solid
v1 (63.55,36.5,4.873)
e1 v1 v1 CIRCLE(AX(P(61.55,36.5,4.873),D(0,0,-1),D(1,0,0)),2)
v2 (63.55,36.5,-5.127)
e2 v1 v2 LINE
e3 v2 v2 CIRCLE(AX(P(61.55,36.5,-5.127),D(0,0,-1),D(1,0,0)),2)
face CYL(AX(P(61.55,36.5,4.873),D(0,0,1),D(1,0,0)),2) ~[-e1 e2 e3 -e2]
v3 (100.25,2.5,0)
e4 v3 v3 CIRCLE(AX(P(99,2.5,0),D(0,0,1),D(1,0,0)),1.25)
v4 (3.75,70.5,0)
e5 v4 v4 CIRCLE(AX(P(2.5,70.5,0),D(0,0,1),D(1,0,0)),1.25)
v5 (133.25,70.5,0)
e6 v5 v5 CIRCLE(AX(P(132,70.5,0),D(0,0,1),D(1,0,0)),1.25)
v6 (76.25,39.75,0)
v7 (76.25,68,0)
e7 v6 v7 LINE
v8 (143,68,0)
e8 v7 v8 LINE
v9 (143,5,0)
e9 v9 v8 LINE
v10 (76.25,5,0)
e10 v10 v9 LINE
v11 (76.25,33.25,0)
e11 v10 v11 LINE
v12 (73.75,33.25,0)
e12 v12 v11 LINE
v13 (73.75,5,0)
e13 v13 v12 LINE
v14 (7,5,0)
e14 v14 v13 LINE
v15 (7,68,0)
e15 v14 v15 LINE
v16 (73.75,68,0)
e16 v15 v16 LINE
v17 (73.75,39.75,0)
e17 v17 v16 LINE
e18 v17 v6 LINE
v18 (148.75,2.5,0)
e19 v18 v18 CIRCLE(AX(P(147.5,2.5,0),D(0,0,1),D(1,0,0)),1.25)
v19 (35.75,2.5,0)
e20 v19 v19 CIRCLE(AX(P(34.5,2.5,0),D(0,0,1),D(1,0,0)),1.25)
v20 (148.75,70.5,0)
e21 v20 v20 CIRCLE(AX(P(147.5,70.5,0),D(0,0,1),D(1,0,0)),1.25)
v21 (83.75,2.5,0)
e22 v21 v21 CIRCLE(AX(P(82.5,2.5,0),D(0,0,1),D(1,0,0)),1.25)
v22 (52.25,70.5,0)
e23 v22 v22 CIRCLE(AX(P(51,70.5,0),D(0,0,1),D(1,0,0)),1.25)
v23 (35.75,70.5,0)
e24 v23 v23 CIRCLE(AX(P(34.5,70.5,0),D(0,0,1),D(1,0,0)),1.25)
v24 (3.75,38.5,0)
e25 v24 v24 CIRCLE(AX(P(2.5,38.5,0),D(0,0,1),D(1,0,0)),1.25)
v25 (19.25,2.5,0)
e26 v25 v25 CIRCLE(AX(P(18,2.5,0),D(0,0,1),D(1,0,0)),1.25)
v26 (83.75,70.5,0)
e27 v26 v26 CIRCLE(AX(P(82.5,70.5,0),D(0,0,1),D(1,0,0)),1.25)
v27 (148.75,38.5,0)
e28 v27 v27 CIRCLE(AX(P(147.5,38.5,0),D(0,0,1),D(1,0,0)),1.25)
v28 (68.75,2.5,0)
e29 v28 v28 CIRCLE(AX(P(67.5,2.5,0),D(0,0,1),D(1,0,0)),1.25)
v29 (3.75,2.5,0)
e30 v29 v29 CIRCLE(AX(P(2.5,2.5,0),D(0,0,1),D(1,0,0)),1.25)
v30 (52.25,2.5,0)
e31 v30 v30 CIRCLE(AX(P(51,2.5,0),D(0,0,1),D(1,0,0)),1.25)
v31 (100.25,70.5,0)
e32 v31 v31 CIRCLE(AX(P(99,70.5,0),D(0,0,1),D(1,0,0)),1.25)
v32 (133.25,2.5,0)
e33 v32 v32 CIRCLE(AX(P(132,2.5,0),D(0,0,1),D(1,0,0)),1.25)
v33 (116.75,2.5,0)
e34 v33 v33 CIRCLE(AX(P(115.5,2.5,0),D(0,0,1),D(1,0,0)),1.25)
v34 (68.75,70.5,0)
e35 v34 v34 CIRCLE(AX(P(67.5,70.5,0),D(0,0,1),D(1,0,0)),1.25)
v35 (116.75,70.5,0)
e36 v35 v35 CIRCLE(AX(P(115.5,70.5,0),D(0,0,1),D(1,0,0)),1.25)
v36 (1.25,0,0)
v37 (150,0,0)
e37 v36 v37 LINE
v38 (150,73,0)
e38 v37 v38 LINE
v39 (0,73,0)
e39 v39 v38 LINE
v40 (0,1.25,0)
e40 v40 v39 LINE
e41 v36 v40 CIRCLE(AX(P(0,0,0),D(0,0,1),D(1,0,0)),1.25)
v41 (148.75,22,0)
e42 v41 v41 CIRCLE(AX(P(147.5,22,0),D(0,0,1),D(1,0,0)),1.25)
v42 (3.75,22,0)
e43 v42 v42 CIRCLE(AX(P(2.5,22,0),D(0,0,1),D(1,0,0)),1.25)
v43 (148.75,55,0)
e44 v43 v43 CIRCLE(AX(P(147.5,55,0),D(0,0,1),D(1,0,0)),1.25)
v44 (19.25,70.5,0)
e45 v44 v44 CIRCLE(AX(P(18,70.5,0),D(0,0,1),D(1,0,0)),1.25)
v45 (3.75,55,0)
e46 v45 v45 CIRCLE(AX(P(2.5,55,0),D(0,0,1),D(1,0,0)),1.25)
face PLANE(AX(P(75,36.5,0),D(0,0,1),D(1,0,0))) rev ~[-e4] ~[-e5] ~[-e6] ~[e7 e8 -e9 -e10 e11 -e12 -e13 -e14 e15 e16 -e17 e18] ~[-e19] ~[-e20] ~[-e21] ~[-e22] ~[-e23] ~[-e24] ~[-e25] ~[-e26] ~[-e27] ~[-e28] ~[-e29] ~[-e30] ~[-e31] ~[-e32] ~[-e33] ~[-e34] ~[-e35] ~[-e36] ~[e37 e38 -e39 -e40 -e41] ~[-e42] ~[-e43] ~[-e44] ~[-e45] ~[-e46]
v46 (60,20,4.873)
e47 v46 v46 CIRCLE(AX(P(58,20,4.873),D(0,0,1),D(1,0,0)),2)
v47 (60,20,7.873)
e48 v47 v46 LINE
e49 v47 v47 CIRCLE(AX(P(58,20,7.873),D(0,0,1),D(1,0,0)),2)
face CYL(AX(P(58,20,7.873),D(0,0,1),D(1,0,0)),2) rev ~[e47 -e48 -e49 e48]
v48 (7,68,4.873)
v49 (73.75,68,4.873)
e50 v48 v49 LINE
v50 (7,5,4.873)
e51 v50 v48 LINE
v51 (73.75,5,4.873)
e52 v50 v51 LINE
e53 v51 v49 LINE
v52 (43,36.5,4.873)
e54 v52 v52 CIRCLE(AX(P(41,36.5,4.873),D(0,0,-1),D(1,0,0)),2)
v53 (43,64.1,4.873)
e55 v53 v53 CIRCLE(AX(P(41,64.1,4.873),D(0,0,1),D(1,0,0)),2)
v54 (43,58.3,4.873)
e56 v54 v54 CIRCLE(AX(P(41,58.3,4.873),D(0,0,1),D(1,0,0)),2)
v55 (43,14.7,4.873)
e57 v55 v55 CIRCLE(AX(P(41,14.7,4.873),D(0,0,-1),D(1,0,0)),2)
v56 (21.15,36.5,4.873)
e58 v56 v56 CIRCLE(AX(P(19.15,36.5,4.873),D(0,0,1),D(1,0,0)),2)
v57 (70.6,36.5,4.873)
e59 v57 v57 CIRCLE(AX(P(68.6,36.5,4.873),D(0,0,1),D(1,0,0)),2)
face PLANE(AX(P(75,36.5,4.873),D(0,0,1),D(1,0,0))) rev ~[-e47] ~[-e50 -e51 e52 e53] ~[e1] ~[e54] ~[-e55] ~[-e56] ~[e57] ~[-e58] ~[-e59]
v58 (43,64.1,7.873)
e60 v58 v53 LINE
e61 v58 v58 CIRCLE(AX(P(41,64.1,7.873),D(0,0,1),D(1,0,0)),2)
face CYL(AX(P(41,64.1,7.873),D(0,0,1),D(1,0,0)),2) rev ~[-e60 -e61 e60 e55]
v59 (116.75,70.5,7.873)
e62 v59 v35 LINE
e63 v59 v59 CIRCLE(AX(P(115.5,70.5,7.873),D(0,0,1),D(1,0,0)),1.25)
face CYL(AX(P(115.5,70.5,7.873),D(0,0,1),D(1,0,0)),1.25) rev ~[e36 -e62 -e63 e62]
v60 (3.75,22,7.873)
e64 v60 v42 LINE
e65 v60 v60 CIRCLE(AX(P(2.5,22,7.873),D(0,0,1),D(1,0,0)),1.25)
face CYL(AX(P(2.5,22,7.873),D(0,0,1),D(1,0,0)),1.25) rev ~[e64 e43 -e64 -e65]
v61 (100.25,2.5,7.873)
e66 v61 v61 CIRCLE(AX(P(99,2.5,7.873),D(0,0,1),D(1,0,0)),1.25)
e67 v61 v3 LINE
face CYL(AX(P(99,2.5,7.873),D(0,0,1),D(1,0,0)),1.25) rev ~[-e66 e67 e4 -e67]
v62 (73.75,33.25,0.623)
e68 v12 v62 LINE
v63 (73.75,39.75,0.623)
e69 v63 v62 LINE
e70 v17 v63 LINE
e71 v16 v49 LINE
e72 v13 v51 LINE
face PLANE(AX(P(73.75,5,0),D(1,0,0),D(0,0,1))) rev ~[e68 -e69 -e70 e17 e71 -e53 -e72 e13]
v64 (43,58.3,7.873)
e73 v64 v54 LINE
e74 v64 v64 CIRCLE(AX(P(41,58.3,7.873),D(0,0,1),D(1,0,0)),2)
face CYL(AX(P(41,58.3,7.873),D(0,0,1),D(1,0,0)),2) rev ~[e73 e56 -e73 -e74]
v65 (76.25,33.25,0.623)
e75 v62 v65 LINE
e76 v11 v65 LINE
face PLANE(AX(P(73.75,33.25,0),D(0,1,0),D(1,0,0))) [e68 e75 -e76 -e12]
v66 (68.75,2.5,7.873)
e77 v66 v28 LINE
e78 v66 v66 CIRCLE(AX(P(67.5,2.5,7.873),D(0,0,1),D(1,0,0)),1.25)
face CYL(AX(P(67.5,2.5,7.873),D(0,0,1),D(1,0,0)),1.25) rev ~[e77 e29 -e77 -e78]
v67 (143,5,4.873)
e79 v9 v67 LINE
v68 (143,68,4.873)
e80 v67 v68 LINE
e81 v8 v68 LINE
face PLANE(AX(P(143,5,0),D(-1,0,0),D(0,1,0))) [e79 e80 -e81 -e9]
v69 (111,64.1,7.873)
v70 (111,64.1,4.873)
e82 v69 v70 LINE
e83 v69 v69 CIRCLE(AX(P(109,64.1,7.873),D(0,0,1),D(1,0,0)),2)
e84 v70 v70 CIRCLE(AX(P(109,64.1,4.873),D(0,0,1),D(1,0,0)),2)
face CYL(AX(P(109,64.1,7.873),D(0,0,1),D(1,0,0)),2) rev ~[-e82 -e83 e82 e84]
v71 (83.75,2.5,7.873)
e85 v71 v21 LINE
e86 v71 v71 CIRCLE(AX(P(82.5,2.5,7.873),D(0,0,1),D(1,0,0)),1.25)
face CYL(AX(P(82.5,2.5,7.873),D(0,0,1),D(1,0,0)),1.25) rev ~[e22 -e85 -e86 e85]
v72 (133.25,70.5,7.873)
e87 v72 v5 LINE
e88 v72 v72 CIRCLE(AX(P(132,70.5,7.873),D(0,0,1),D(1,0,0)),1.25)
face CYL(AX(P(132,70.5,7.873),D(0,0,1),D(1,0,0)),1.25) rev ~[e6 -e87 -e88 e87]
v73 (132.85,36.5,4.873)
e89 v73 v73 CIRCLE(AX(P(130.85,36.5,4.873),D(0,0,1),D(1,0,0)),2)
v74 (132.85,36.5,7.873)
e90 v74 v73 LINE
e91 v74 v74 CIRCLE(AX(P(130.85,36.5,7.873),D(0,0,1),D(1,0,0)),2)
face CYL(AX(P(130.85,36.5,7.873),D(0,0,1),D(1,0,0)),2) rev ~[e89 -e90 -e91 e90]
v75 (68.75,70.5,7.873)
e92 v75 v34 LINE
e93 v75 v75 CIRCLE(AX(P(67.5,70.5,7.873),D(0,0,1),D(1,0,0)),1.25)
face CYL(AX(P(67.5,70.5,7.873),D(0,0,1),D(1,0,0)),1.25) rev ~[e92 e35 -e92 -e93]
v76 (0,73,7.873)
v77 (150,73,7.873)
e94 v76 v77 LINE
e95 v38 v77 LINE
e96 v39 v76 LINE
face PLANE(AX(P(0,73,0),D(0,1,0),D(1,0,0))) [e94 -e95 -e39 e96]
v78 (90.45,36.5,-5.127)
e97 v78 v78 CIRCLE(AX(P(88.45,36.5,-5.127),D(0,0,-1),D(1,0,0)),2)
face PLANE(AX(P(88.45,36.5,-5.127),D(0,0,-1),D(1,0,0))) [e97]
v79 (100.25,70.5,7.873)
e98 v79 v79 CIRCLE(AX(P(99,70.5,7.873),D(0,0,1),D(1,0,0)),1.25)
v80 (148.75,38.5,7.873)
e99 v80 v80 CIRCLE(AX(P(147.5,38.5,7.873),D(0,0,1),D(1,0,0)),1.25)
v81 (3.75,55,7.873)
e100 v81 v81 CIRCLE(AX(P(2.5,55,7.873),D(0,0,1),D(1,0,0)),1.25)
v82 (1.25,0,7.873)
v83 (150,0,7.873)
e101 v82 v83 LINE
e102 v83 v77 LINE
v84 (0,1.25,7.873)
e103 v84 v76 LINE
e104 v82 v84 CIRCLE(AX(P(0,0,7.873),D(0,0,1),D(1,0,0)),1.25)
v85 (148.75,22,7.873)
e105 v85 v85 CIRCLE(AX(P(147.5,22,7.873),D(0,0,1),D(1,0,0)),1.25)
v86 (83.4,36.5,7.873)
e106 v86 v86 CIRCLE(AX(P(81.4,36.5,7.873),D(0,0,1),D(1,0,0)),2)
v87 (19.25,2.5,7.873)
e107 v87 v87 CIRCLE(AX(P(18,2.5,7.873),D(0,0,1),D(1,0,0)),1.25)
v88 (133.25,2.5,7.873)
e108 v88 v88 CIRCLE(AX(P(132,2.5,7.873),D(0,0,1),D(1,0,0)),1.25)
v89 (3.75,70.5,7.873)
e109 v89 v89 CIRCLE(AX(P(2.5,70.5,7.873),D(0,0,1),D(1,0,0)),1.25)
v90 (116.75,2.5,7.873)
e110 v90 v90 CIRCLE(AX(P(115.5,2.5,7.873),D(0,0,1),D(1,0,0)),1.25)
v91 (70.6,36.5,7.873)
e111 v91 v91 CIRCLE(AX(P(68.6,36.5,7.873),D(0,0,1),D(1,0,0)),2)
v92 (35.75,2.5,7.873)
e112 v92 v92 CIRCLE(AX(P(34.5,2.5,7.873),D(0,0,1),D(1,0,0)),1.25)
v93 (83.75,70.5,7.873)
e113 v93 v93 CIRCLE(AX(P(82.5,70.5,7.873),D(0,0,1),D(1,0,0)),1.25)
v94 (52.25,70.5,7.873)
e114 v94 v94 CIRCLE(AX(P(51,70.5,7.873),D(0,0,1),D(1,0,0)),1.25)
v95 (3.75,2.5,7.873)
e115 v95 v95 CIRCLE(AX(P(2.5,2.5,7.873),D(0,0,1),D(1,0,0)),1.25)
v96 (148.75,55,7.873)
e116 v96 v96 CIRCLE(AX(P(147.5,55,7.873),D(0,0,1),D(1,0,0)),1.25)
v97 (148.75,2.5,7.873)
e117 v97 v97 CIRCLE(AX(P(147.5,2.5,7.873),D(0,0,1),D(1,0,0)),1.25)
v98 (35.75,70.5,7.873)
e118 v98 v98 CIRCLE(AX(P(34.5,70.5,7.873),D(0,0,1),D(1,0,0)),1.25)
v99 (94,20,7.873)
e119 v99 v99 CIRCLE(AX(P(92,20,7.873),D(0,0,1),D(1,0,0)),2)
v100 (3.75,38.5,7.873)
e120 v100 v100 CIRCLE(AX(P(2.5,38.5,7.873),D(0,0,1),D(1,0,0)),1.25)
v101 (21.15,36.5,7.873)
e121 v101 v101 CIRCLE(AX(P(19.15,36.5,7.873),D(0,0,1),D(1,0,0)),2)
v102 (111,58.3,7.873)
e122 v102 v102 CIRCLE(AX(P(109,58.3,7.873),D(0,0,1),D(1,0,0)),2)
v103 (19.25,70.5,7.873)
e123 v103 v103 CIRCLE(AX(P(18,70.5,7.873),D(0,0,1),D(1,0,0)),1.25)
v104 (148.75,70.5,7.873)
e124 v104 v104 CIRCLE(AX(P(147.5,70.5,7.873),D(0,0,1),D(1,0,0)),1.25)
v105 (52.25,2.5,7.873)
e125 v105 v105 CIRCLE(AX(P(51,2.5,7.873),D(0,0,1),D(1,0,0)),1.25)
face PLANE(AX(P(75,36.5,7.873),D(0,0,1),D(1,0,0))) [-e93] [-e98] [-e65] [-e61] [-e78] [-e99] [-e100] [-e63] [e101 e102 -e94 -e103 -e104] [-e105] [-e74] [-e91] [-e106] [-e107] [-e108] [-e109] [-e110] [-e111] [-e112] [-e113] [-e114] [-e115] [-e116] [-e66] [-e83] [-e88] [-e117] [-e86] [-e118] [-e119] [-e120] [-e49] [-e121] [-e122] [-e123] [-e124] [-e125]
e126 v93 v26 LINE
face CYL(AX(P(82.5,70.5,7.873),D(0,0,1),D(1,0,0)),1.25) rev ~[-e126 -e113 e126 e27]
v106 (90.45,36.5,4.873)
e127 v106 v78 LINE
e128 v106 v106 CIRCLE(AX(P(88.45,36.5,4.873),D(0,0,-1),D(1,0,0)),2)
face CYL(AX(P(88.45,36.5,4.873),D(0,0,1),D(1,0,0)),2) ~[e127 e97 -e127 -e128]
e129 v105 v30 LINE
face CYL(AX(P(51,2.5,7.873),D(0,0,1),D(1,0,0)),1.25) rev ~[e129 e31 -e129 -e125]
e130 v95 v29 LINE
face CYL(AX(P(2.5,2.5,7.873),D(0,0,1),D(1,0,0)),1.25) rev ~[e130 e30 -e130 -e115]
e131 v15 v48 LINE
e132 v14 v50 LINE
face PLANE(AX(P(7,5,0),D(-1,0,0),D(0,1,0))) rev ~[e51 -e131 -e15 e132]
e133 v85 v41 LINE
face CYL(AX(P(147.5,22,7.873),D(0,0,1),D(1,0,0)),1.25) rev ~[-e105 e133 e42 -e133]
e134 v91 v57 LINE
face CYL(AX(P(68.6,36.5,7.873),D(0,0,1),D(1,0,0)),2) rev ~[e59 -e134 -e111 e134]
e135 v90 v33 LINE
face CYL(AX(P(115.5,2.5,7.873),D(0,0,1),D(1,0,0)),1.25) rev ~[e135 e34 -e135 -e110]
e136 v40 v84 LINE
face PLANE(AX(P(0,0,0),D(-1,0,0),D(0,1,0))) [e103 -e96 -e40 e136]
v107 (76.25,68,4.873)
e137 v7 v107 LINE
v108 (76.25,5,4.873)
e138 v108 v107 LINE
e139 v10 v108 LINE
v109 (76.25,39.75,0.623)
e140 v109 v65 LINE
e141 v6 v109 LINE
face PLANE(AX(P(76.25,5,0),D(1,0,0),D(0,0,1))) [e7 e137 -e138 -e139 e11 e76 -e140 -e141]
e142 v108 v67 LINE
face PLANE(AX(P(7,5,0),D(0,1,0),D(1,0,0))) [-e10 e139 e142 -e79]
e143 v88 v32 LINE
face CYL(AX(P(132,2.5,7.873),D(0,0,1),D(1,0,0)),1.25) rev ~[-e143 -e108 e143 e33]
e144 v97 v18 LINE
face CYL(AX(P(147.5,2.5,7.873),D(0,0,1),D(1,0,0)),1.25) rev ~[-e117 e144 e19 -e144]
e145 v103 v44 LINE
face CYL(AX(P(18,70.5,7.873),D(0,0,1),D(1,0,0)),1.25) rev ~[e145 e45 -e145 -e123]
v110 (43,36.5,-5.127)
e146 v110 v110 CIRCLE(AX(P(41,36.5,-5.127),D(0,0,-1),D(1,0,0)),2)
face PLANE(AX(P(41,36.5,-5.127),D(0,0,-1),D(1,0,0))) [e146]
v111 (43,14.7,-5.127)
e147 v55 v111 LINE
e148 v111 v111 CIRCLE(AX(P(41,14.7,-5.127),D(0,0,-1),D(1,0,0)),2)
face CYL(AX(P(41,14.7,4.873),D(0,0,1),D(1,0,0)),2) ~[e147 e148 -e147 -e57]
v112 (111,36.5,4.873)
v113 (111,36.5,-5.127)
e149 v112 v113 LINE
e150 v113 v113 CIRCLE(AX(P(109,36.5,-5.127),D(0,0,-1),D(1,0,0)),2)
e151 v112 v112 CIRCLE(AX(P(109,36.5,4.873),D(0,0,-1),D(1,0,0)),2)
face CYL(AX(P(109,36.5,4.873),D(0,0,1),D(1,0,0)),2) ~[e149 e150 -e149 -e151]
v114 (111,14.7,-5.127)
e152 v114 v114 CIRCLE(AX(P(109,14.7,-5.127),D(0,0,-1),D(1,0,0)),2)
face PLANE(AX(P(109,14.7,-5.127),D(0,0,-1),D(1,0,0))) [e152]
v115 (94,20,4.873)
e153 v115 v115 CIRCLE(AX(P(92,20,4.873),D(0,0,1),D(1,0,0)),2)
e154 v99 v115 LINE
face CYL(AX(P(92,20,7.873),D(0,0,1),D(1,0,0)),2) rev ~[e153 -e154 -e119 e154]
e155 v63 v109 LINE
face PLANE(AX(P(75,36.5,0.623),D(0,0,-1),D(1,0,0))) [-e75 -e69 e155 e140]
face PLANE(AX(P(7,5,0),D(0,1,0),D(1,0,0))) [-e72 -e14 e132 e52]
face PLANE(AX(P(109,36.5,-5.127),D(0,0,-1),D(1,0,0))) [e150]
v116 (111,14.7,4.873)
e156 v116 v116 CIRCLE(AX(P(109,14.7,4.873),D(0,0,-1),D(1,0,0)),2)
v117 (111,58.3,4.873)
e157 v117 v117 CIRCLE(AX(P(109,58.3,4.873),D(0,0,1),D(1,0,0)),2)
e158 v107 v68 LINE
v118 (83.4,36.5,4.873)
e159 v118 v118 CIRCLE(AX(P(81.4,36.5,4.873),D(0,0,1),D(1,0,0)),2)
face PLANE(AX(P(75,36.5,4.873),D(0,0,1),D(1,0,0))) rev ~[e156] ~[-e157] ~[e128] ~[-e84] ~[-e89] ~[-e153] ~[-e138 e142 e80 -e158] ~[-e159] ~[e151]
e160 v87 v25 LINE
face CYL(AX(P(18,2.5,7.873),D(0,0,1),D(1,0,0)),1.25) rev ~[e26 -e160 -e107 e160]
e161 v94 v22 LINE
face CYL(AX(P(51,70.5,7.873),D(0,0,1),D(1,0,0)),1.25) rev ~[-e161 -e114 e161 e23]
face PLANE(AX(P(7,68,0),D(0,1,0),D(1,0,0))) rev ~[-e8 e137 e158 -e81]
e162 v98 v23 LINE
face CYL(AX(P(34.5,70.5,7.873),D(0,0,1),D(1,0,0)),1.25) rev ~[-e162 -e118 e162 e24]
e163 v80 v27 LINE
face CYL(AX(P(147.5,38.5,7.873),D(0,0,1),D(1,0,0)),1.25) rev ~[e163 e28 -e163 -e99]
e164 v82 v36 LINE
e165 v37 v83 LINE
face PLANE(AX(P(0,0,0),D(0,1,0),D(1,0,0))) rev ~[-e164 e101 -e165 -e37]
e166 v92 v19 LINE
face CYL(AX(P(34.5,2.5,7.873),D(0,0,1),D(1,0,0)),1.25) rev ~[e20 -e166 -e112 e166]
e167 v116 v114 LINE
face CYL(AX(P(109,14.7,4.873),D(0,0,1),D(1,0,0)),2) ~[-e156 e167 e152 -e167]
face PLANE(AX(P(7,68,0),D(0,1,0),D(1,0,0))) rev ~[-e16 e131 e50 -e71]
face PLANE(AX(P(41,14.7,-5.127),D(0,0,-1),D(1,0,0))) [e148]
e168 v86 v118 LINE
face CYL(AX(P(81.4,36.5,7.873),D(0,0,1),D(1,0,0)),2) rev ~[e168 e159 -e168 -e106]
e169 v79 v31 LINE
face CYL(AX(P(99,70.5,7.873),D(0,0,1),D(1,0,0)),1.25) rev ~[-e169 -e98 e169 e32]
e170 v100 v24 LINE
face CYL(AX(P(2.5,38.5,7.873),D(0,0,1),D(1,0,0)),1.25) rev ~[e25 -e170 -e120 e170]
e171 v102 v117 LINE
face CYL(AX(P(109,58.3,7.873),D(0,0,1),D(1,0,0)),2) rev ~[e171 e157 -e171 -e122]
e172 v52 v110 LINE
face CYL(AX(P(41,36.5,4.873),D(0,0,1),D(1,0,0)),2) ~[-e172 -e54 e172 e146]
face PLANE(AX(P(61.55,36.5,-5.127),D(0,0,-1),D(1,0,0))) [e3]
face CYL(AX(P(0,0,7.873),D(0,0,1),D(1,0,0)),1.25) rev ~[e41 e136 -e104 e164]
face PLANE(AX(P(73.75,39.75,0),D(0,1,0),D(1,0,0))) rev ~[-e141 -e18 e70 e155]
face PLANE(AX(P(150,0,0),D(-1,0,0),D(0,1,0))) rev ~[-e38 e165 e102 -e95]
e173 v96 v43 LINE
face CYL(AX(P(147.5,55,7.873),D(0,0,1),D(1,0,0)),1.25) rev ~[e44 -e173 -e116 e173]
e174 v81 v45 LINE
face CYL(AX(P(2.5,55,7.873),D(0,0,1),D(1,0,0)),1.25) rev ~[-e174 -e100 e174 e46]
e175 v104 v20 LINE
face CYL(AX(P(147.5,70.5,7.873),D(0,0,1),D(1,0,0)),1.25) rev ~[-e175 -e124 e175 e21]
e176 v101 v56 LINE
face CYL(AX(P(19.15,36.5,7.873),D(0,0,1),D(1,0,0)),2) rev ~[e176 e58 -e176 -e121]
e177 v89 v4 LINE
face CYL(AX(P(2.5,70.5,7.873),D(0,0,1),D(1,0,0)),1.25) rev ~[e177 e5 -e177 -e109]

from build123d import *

# Parameters (mm, degrees)
F0_W      = 150
F0_H      = 73
F1_DEPTH  = 7.873
F2_W      = 136
F2_H      = 63
F3_DEPTH  = 4.873
F4_R      = 1.25
F5_DEPTH  = 7.873
F6_R      = 1.25
F7_DEPTH  = 7.873
F8_R      = 1.25
F9_DEPTH  = 7.873
F10_R     = 1.25
F11_DEPTH = 7.873
F12_R     = 1.25
F13_DEPTH = 7.873
F14_R     = 1.25
F15_DEPTH = 7.873
F16_R     = 1.25
F17_DEPTH = 7.873
F18_R     = 1.25
F19_DEPTH = 7.873
F20_R     = 1.25
F21_DEPTH = 7.873
F22_R     = 1.25
F23_DEPTH = 7.873
F24_R     = 1.25
F25_DEPTH = 7.873
F26_R     = 1.25
F27_DEPTH = 7.873
F28_R     = 1.25
F29_DEPTH = 7.873
F30_R     = 1.25
F31_DEPTH = 7.873
F32_R     = 1.25
F33_DEPTH = 7.873
F34_R     = 1.25
F35_DEPTH = 7.873
F36_R     = 1.25
F37_DEPTH = 7.873
F38_R     = 1.25
F39_DEPTH = 7.873
F40_R     = 1.25
F41_DEPTH = 7.873
F42_R     = 1.25
F43_DEPTH = 7.873
F44_R     = 1.25
F45_DEPTH = 7.873
F46_R     = 1.25
F47_DEPTH = 7.873
F48_R     = 1.25
F49_DEPTH = 7.873
F50_R     = 1.25
F51_DEPTH = 7.873
F52_R     = 1.25
F53_DEPTH = 7.873
F54_R     = 1.25
F55_DEPTH = 7.873
F56_R     = 2
F57_DEPTH = 3
F58_R     = 2
F59_DEPTH = 3
F60_R     = 2
F61_DEPTH = 3
F62_R     = 2
F63_DEPTH = 3
F64_R     = 2
F65_DEPTH = 3
F66_R     = 2
F67_DEPTH = 3
F68_R     = 2
F69_DEPTH = 3
F70_R     = 2
F71_DEPTH = 3
F72_R     = 2
F73_DEPTH = 3
F74_R     = 2
F75_DEPTH = 3
F76_W     = 2.5
F76_H     = 4.873
F77_DEPTH = 63
F78_W     = 2.5
F78_H     = 6.5
F79_DEPTH = 0.623
F80_R     = 2
F81_DEPTH = 10
F82_R     = 2
F83_DEPTH = 10
F84_R     = 2
F85_DEPTH = 10
F86_R     = 2
F87_DEPTH = 10
F88_R     = 2
F89_DEPTH = 10
F90_R     = 2
F91_DEPTH = 10


with BuildPart() as f1:
    # F0 (on Top) → F1 (new body)
    with BuildSketch(Plane.XY):
        with Locations((75, 36.5)):
            Rectangle(F0_W, F0_H)
    extrude(amount=F1_DEPTH)

    # F2 (on Top) → F3 (cut)
    with BuildSketch(Plane.XY):
        with Locations((75, 36.5)):
            Rectangle(F2_W, F2_H)
    extrude(amount=F3_DEPTH, mode=Mode.SUBTRACT)

    # F4 (on face) → F5 (cut)
    with BuildSketch(Plane.XY.offset(7.873)):
        with Locations((2.5, 2.5)):
            Circle(F4_R)
    extrude(amount=-F5_DEPTH, mode=Mode.SUBTRACT)

    # F6 (on face) → F7 (cut)
    with BuildSketch(Plane.XY.offset(7.873)):
        with Locations((18, 2.5)):
            Circle(F6_R)
    extrude(amount=-F7_DEPTH, mode=Mode.SUBTRACT)

    # F8 (on face) → F9 (cut)
    with BuildSketch(Plane.XY.offset(7.873)):
        with Locations((34.5, 2.5)):
            Circle(F8_R)
    extrude(amount=-F9_DEPTH, mode=Mode.SUBTRACT)

    # F10 (on face) → F11 (cut)
    with BuildSketch(Plane.XY.offset(7.873)):
        with Locations((51, 2.5)):
            Circle(F10_R)
    extrude(amount=-F11_DEPTH, mode=Mode.SUBTRACT)

    # F12 (on face) → F13 (cut)
    with BuildSketch(Plane.XY.offset(7.873)):
        with Locations((67.5, 2.5)):
            Circle(F12_R)
    extrude(amount=-F13_DEPTH, mode=Mode.SUBTRACT)

    # F14 (on face) → F15 (cut)
    with BuildSketch(Plane.XY.offset(7.873)):
        with Locations((82.5, 2.5)):
            Circle(F14_R)
    extrude(amount=-F15_DEPTH, mode=Mode.SUBTRACT)

    # F16 (on face) → F17 (cut)
    with BuildSketch(Plane.XY.offset(7.873)):
        with Locations((99, 2.5)):
            Circle(F16_R)
    extrude(amount=-F17_DEPTH, mode=Mode.SUBTRACT)

    # F18 (on face) → F19 (cut)
    with BuildSketch(Plane.XY.offset(7.873)):
        with Locations((115.5, 2.5)):
            Circle(F18_R)
    extrude(amount=-F19_DEPTH, mode=Mode.SUBTRACT)

    # F20 (on face) → F21 (cut)
    with BuildSketch(Plane.XY.offset(7.873)):
        with Locations((132, 2.5)):
            Circle(F20_R)
    extrude(amount=-F21_DEPTH, mode=Mode.SUBTRACT)

    # F22 (on face) → F23 (cut)
    with BuildSketch(Plane.XY.offset(7.873)):
        with Locations((147.5, 2.5)):
            Circle(F22_R)
    extrude(amount=-F23_DEPTH, mode=Mode.SUBTRACT)

    # F24 (on face) → F25 (cut)
    with BuildSketch(Plane.XY.offset(7.873)):
        with Locations((2.5, 22)):
            Circle(F24_R)
    extrude(amount=-F25_DEPTH, mode=Mode.SUBTRACT)

    # F26 (on face) → F27 (cut)
    with BuildSketch(Plane.XY.offset(7.873)):
        with Locations((147.5, 22)):
            Circle(F26_R)
    extrude(amount=-F27_DEPTH, mode=Mode.SUBTRACT)

    # F28 (on face) → F29 (cut)
    with BuildSketch(Plane.XY.offset(7.873)):
        with Locations((147.5, 38.5)):
            Circle(F28_R)
    extrude(amount=-F29_DEPTH, mode=Mode.SUBTRACT)

    # F30 (on face) → F31 (cut)
    with BuildSketch(Plane.XY.offset(7.873)):
        with Locations((2.5, 38.5)):
            Circle(F30_R)
    extrude(amount=-F31_DEPTH, mode=Mode.SUBTRACT)

    # F32 (on face) → F33 (cut)
    with BuildSketch(Plane.XY.offset(7.873)):
        with Locations((2.5, 55)):
            Circle(F32_R)
    extrude(amount=-F33_DEPTH, mode=Mode.SUBTRACT)

    # F34 (on face) → F35 (cut)
    with BuildSketch(Plane.XY.offset(7.873)):
        with Locations((147.5, 55)):
            Circle(F34_R)
    extrude(amount=-F35_DEPTH, mode=Mode.SUBTRACT)

    # F36 (on face) → F37 (cut)
    with BuildSketch(Plane.XY.offset(7.873)):
        with Locations((2.5, 70.5)):
            Circle(F36_R)
    extrude(amount=-F37_DEPTH, mode=Mode.SUBTRACT)

    # F38 (on face) → F39 (cut)
    with BuildSketch(Plane.XY.offset(7.873)):
        with Locations((147.5, 70.5)):
            Circle(F38_R)
    extrude(amount=-F39_DEPTH, mode=Mode.SUBTRACT)

    # F40 (on face) → F41 (cut)
    with BuildSketch(Plane.XY.offset(7.873)):
        with Locations((18, 70.5)):
            Circle(F40_R)
    extrude(amount=-F41_DEPTH, mode=Mode.SUBTRACT)

    # F42 (on face) → F43 (cut)
    with BuildSketch(Plane.XY.offset(7.873)):
        with Locations((132, 70.5)):
            Circle(F42_R)
    extrude(amount=-F43_DEPTH, mode=Mode.SUBTRACT)

    # F44 (on face) → F45 (cut)
    with BuildSketch(Plane.XY.offset(7.873)):
        with Locations((34.5, 70.5)):
            Circle(F44_R)
        Circle(F44_R)
    extrude(amount=-F45_DEPTH, mode=Mode.SUBTRACT)

    # F46 (on face) → F47 (cut)
    with BuildSketch(Plane.XY.offset(7.873)):
        with Locations((115.5, 70.5)):
            Circle(F46_R)
    extrude(amount=-F47_DEPTH, mode=Mode.SUBTRACT)

    # F48 (on face) → F49 (cut)
    with BuildSketch(Plane.XY.offset(7.873)):
        with Locations((51, 70.5)):
            Circle(F48_R)
    extrude(amount=-F49_DEPTH, mode=Mode.SUBTRACT)

    # F50 (on face) → F51 (cut)
    with BuildSketch(Plane.XY.offset(7.873)):
        with Locations((67.5, 70.5)):
            Circle(F50_R)
    extrude(amount=-F51_DEPTH, mode=Mode.SUBTRACT)

    # F52 (on face) → F53 (cut)
    with BuildSketch(Plane.XY.offset(7.873)):
        with Locations((82.5, 70.5)):
            Circle(F52_R)
    extrude(amount=-F53_DEPTH, mode=Mode.SUBTRACT)

    # F54 (on face) → F55 (cut)
    with BuildSketch(Plane.XY.offset(7.873)):
        with Locations((99, 70.5)):
            Circle(F54_R)
    extrude(amount=-F55_DEPTH, mode=Mode.SUBTRACT)

    # F56 (on face) → F57 (cut)
    with BuildSketch(Plane.XY.offset(7.873)):
        with Locations((41, 64.1)):
            Circle(F56_R)
    extrude(amount=-F57_DEPTH, mode=Mode.SUBTRACT)

    # F58 (on face) → F59 (cut)
    with BuildSketch(Plane.XY.offset(7.873)):
        with Locations((41, 58.3)):
            Circle(F58_R)
    extrude(amount=-F59_DEPTH, mode=Mode.SUBTRACT)

    # F60 (on face) → F61 (cut)
    with BuildSketch(Plane.XY.offset(7.873)):
        with Locations((19.15, 36.5)):
            Circle(F60_R)
    extrude(amount=-F61_DEPTH, mode=Mode.SUBTRACT)

    # F62 (on face) → F63 (cut)
    with BuildSketch(Plane.XY.offset(7.873)):
        with Locations((68.6, 36.5)):
            Circle(F62_R)
    extrude(amount=-F63_DEPTH, mode=Mode.SUBTRACT)

    # F64 (on face) → F65 (cut)
    with BuildSketch(Plane.XY.offset(7.873)):
        with Locations((109, 64.1)):
            Circle(F64_R)
    extrude(amount=-F65_DEPTH, mode=Mode.SUBTRACT)

    # F66 (on face) → F67 (cut)
    with BuildSketch(Plane.XY.offset(7.873)):
        with Locations((109, 58.3)):
            Circle(F66_R)
    extrude(amount=-F67_DEPTH, mode=Mode.SUBTRACT)

    # F68 (on face) → F69 (cut)
    with BuildSketch(Plane.XY.offset(7.873)):
        with Locations((81.4, 36.5)):
            Circle(F68_R)
    extrude(amount=-F69_DEPTH, mode=Mode.SUBTRACT)

    # F70 (on face) → F71 (cut)
    with BuildSketch(Plane.XY.offset(7.873)):
        with Locations((130.85, 36.5)):
            Circle(F70_R)
    extrude(amount=-F71_DEPTH, mode=Mode.SUBTRACT)

    # F72 (on face) → F73 (cut)
    with BuildSketch(Plane.XY.offset(7.873)):
        with Locations((58, 20)):
            Circle(F72_R)
    extrude(amount=-F73_DEPTH, mode=Mode.SUBTRACT)

    # F74 (on face) → F75 (cut)
    with BuildSketch(Plane.XY.offset(7.873)):
        with Locations((92, 20)):
            Circle(F74_R)
    extrude(amount=-F75_DEPTH, mode=Mode.SUBTRACT)

    # F76 (on face) → F77 (join)
    with BuildSketch(Plane(origin=(0, 5, 0), x_dir=(-1, 0, 0), z_dir=(0, 1, 0))):
        with Locations((-75, 2.4365)):
            Rectangle(F76_W, F76_H)
    extrude(amount=F77_DEPTH)

    # F78 (on face) → F79 (cut)
    with BuildSketch(Plane(origin=(0, 0, 0), x_dir=(1, 0, 0), z_dir=(0, 0, -1))):
        with Locations((75, -36.5)):
            Rectangle(F78_W, F78_H)
    extrude(amount=-F79_DEPTH, mode=Mode.SUBTRACT)

    # F80 (on face) → F81 (join)
    with BuildSketch(Plane(origin=(0, 0, 4.873), x_dir=(1, 0, 0), z_dir=(0, 0, -1))):
        with Locations((41, -14.7)):
            Circle(F80_R)
    extrude(amount=F81_DEPTH)

    # F82 (on face) → F83 (join)
    with BuildSketch(Plane(origin=(0, 0, 4.873), x_dir=(1, 0, 0), z_dir=(0, 0, -1))):
        with Locations((41, -36.5)):
            Circle(F82_R)
    extrude(amount=F83_DEPTH)

    # F84 (on face) → F85 (join)
    with BuildSketch(Plane(origin=(0, 0, 4.873), x_dir=(1, 0, 0), z_dir=(0, 0, -1))):
        with Locations((109, -36.5)):
            Circle(F84_R)
    extrude(amount=F85_DEPTH)

    # F86 (on face) → F87 (join)
    with BuildSketch(Plane(origin=(0, 0, 4.873), x_dir=(1, 0, 0), z_dir=(0, 0, -1))):
        with Locations((109, -14.7)):
            Circle(F86_R)
    extrude(amount=F87_DEPTH)

    # F88 (on face) → F89 (join)
    with BuildSketch(Plane(origin=(0, 0, 4.873), x_dir=(1, 0, 0), z_dir=(0, 0, -1))):
        with Locations((61.55, -36.5)):
            Circle(F88_R)
    extrude(amount=F89_DEPTH)

    # F90 (on face) → F91 (join)
    with BuildSketch(Plane(origin=(0, 0, 4.873), x_dir=(1, 0, 0), z_dir=(0, 0, -1))):
        with Locations((88.45, -36.5)):
            Circle(F90_R)
    extrude(amount=F91_DEPTH)


solid = f1.part
